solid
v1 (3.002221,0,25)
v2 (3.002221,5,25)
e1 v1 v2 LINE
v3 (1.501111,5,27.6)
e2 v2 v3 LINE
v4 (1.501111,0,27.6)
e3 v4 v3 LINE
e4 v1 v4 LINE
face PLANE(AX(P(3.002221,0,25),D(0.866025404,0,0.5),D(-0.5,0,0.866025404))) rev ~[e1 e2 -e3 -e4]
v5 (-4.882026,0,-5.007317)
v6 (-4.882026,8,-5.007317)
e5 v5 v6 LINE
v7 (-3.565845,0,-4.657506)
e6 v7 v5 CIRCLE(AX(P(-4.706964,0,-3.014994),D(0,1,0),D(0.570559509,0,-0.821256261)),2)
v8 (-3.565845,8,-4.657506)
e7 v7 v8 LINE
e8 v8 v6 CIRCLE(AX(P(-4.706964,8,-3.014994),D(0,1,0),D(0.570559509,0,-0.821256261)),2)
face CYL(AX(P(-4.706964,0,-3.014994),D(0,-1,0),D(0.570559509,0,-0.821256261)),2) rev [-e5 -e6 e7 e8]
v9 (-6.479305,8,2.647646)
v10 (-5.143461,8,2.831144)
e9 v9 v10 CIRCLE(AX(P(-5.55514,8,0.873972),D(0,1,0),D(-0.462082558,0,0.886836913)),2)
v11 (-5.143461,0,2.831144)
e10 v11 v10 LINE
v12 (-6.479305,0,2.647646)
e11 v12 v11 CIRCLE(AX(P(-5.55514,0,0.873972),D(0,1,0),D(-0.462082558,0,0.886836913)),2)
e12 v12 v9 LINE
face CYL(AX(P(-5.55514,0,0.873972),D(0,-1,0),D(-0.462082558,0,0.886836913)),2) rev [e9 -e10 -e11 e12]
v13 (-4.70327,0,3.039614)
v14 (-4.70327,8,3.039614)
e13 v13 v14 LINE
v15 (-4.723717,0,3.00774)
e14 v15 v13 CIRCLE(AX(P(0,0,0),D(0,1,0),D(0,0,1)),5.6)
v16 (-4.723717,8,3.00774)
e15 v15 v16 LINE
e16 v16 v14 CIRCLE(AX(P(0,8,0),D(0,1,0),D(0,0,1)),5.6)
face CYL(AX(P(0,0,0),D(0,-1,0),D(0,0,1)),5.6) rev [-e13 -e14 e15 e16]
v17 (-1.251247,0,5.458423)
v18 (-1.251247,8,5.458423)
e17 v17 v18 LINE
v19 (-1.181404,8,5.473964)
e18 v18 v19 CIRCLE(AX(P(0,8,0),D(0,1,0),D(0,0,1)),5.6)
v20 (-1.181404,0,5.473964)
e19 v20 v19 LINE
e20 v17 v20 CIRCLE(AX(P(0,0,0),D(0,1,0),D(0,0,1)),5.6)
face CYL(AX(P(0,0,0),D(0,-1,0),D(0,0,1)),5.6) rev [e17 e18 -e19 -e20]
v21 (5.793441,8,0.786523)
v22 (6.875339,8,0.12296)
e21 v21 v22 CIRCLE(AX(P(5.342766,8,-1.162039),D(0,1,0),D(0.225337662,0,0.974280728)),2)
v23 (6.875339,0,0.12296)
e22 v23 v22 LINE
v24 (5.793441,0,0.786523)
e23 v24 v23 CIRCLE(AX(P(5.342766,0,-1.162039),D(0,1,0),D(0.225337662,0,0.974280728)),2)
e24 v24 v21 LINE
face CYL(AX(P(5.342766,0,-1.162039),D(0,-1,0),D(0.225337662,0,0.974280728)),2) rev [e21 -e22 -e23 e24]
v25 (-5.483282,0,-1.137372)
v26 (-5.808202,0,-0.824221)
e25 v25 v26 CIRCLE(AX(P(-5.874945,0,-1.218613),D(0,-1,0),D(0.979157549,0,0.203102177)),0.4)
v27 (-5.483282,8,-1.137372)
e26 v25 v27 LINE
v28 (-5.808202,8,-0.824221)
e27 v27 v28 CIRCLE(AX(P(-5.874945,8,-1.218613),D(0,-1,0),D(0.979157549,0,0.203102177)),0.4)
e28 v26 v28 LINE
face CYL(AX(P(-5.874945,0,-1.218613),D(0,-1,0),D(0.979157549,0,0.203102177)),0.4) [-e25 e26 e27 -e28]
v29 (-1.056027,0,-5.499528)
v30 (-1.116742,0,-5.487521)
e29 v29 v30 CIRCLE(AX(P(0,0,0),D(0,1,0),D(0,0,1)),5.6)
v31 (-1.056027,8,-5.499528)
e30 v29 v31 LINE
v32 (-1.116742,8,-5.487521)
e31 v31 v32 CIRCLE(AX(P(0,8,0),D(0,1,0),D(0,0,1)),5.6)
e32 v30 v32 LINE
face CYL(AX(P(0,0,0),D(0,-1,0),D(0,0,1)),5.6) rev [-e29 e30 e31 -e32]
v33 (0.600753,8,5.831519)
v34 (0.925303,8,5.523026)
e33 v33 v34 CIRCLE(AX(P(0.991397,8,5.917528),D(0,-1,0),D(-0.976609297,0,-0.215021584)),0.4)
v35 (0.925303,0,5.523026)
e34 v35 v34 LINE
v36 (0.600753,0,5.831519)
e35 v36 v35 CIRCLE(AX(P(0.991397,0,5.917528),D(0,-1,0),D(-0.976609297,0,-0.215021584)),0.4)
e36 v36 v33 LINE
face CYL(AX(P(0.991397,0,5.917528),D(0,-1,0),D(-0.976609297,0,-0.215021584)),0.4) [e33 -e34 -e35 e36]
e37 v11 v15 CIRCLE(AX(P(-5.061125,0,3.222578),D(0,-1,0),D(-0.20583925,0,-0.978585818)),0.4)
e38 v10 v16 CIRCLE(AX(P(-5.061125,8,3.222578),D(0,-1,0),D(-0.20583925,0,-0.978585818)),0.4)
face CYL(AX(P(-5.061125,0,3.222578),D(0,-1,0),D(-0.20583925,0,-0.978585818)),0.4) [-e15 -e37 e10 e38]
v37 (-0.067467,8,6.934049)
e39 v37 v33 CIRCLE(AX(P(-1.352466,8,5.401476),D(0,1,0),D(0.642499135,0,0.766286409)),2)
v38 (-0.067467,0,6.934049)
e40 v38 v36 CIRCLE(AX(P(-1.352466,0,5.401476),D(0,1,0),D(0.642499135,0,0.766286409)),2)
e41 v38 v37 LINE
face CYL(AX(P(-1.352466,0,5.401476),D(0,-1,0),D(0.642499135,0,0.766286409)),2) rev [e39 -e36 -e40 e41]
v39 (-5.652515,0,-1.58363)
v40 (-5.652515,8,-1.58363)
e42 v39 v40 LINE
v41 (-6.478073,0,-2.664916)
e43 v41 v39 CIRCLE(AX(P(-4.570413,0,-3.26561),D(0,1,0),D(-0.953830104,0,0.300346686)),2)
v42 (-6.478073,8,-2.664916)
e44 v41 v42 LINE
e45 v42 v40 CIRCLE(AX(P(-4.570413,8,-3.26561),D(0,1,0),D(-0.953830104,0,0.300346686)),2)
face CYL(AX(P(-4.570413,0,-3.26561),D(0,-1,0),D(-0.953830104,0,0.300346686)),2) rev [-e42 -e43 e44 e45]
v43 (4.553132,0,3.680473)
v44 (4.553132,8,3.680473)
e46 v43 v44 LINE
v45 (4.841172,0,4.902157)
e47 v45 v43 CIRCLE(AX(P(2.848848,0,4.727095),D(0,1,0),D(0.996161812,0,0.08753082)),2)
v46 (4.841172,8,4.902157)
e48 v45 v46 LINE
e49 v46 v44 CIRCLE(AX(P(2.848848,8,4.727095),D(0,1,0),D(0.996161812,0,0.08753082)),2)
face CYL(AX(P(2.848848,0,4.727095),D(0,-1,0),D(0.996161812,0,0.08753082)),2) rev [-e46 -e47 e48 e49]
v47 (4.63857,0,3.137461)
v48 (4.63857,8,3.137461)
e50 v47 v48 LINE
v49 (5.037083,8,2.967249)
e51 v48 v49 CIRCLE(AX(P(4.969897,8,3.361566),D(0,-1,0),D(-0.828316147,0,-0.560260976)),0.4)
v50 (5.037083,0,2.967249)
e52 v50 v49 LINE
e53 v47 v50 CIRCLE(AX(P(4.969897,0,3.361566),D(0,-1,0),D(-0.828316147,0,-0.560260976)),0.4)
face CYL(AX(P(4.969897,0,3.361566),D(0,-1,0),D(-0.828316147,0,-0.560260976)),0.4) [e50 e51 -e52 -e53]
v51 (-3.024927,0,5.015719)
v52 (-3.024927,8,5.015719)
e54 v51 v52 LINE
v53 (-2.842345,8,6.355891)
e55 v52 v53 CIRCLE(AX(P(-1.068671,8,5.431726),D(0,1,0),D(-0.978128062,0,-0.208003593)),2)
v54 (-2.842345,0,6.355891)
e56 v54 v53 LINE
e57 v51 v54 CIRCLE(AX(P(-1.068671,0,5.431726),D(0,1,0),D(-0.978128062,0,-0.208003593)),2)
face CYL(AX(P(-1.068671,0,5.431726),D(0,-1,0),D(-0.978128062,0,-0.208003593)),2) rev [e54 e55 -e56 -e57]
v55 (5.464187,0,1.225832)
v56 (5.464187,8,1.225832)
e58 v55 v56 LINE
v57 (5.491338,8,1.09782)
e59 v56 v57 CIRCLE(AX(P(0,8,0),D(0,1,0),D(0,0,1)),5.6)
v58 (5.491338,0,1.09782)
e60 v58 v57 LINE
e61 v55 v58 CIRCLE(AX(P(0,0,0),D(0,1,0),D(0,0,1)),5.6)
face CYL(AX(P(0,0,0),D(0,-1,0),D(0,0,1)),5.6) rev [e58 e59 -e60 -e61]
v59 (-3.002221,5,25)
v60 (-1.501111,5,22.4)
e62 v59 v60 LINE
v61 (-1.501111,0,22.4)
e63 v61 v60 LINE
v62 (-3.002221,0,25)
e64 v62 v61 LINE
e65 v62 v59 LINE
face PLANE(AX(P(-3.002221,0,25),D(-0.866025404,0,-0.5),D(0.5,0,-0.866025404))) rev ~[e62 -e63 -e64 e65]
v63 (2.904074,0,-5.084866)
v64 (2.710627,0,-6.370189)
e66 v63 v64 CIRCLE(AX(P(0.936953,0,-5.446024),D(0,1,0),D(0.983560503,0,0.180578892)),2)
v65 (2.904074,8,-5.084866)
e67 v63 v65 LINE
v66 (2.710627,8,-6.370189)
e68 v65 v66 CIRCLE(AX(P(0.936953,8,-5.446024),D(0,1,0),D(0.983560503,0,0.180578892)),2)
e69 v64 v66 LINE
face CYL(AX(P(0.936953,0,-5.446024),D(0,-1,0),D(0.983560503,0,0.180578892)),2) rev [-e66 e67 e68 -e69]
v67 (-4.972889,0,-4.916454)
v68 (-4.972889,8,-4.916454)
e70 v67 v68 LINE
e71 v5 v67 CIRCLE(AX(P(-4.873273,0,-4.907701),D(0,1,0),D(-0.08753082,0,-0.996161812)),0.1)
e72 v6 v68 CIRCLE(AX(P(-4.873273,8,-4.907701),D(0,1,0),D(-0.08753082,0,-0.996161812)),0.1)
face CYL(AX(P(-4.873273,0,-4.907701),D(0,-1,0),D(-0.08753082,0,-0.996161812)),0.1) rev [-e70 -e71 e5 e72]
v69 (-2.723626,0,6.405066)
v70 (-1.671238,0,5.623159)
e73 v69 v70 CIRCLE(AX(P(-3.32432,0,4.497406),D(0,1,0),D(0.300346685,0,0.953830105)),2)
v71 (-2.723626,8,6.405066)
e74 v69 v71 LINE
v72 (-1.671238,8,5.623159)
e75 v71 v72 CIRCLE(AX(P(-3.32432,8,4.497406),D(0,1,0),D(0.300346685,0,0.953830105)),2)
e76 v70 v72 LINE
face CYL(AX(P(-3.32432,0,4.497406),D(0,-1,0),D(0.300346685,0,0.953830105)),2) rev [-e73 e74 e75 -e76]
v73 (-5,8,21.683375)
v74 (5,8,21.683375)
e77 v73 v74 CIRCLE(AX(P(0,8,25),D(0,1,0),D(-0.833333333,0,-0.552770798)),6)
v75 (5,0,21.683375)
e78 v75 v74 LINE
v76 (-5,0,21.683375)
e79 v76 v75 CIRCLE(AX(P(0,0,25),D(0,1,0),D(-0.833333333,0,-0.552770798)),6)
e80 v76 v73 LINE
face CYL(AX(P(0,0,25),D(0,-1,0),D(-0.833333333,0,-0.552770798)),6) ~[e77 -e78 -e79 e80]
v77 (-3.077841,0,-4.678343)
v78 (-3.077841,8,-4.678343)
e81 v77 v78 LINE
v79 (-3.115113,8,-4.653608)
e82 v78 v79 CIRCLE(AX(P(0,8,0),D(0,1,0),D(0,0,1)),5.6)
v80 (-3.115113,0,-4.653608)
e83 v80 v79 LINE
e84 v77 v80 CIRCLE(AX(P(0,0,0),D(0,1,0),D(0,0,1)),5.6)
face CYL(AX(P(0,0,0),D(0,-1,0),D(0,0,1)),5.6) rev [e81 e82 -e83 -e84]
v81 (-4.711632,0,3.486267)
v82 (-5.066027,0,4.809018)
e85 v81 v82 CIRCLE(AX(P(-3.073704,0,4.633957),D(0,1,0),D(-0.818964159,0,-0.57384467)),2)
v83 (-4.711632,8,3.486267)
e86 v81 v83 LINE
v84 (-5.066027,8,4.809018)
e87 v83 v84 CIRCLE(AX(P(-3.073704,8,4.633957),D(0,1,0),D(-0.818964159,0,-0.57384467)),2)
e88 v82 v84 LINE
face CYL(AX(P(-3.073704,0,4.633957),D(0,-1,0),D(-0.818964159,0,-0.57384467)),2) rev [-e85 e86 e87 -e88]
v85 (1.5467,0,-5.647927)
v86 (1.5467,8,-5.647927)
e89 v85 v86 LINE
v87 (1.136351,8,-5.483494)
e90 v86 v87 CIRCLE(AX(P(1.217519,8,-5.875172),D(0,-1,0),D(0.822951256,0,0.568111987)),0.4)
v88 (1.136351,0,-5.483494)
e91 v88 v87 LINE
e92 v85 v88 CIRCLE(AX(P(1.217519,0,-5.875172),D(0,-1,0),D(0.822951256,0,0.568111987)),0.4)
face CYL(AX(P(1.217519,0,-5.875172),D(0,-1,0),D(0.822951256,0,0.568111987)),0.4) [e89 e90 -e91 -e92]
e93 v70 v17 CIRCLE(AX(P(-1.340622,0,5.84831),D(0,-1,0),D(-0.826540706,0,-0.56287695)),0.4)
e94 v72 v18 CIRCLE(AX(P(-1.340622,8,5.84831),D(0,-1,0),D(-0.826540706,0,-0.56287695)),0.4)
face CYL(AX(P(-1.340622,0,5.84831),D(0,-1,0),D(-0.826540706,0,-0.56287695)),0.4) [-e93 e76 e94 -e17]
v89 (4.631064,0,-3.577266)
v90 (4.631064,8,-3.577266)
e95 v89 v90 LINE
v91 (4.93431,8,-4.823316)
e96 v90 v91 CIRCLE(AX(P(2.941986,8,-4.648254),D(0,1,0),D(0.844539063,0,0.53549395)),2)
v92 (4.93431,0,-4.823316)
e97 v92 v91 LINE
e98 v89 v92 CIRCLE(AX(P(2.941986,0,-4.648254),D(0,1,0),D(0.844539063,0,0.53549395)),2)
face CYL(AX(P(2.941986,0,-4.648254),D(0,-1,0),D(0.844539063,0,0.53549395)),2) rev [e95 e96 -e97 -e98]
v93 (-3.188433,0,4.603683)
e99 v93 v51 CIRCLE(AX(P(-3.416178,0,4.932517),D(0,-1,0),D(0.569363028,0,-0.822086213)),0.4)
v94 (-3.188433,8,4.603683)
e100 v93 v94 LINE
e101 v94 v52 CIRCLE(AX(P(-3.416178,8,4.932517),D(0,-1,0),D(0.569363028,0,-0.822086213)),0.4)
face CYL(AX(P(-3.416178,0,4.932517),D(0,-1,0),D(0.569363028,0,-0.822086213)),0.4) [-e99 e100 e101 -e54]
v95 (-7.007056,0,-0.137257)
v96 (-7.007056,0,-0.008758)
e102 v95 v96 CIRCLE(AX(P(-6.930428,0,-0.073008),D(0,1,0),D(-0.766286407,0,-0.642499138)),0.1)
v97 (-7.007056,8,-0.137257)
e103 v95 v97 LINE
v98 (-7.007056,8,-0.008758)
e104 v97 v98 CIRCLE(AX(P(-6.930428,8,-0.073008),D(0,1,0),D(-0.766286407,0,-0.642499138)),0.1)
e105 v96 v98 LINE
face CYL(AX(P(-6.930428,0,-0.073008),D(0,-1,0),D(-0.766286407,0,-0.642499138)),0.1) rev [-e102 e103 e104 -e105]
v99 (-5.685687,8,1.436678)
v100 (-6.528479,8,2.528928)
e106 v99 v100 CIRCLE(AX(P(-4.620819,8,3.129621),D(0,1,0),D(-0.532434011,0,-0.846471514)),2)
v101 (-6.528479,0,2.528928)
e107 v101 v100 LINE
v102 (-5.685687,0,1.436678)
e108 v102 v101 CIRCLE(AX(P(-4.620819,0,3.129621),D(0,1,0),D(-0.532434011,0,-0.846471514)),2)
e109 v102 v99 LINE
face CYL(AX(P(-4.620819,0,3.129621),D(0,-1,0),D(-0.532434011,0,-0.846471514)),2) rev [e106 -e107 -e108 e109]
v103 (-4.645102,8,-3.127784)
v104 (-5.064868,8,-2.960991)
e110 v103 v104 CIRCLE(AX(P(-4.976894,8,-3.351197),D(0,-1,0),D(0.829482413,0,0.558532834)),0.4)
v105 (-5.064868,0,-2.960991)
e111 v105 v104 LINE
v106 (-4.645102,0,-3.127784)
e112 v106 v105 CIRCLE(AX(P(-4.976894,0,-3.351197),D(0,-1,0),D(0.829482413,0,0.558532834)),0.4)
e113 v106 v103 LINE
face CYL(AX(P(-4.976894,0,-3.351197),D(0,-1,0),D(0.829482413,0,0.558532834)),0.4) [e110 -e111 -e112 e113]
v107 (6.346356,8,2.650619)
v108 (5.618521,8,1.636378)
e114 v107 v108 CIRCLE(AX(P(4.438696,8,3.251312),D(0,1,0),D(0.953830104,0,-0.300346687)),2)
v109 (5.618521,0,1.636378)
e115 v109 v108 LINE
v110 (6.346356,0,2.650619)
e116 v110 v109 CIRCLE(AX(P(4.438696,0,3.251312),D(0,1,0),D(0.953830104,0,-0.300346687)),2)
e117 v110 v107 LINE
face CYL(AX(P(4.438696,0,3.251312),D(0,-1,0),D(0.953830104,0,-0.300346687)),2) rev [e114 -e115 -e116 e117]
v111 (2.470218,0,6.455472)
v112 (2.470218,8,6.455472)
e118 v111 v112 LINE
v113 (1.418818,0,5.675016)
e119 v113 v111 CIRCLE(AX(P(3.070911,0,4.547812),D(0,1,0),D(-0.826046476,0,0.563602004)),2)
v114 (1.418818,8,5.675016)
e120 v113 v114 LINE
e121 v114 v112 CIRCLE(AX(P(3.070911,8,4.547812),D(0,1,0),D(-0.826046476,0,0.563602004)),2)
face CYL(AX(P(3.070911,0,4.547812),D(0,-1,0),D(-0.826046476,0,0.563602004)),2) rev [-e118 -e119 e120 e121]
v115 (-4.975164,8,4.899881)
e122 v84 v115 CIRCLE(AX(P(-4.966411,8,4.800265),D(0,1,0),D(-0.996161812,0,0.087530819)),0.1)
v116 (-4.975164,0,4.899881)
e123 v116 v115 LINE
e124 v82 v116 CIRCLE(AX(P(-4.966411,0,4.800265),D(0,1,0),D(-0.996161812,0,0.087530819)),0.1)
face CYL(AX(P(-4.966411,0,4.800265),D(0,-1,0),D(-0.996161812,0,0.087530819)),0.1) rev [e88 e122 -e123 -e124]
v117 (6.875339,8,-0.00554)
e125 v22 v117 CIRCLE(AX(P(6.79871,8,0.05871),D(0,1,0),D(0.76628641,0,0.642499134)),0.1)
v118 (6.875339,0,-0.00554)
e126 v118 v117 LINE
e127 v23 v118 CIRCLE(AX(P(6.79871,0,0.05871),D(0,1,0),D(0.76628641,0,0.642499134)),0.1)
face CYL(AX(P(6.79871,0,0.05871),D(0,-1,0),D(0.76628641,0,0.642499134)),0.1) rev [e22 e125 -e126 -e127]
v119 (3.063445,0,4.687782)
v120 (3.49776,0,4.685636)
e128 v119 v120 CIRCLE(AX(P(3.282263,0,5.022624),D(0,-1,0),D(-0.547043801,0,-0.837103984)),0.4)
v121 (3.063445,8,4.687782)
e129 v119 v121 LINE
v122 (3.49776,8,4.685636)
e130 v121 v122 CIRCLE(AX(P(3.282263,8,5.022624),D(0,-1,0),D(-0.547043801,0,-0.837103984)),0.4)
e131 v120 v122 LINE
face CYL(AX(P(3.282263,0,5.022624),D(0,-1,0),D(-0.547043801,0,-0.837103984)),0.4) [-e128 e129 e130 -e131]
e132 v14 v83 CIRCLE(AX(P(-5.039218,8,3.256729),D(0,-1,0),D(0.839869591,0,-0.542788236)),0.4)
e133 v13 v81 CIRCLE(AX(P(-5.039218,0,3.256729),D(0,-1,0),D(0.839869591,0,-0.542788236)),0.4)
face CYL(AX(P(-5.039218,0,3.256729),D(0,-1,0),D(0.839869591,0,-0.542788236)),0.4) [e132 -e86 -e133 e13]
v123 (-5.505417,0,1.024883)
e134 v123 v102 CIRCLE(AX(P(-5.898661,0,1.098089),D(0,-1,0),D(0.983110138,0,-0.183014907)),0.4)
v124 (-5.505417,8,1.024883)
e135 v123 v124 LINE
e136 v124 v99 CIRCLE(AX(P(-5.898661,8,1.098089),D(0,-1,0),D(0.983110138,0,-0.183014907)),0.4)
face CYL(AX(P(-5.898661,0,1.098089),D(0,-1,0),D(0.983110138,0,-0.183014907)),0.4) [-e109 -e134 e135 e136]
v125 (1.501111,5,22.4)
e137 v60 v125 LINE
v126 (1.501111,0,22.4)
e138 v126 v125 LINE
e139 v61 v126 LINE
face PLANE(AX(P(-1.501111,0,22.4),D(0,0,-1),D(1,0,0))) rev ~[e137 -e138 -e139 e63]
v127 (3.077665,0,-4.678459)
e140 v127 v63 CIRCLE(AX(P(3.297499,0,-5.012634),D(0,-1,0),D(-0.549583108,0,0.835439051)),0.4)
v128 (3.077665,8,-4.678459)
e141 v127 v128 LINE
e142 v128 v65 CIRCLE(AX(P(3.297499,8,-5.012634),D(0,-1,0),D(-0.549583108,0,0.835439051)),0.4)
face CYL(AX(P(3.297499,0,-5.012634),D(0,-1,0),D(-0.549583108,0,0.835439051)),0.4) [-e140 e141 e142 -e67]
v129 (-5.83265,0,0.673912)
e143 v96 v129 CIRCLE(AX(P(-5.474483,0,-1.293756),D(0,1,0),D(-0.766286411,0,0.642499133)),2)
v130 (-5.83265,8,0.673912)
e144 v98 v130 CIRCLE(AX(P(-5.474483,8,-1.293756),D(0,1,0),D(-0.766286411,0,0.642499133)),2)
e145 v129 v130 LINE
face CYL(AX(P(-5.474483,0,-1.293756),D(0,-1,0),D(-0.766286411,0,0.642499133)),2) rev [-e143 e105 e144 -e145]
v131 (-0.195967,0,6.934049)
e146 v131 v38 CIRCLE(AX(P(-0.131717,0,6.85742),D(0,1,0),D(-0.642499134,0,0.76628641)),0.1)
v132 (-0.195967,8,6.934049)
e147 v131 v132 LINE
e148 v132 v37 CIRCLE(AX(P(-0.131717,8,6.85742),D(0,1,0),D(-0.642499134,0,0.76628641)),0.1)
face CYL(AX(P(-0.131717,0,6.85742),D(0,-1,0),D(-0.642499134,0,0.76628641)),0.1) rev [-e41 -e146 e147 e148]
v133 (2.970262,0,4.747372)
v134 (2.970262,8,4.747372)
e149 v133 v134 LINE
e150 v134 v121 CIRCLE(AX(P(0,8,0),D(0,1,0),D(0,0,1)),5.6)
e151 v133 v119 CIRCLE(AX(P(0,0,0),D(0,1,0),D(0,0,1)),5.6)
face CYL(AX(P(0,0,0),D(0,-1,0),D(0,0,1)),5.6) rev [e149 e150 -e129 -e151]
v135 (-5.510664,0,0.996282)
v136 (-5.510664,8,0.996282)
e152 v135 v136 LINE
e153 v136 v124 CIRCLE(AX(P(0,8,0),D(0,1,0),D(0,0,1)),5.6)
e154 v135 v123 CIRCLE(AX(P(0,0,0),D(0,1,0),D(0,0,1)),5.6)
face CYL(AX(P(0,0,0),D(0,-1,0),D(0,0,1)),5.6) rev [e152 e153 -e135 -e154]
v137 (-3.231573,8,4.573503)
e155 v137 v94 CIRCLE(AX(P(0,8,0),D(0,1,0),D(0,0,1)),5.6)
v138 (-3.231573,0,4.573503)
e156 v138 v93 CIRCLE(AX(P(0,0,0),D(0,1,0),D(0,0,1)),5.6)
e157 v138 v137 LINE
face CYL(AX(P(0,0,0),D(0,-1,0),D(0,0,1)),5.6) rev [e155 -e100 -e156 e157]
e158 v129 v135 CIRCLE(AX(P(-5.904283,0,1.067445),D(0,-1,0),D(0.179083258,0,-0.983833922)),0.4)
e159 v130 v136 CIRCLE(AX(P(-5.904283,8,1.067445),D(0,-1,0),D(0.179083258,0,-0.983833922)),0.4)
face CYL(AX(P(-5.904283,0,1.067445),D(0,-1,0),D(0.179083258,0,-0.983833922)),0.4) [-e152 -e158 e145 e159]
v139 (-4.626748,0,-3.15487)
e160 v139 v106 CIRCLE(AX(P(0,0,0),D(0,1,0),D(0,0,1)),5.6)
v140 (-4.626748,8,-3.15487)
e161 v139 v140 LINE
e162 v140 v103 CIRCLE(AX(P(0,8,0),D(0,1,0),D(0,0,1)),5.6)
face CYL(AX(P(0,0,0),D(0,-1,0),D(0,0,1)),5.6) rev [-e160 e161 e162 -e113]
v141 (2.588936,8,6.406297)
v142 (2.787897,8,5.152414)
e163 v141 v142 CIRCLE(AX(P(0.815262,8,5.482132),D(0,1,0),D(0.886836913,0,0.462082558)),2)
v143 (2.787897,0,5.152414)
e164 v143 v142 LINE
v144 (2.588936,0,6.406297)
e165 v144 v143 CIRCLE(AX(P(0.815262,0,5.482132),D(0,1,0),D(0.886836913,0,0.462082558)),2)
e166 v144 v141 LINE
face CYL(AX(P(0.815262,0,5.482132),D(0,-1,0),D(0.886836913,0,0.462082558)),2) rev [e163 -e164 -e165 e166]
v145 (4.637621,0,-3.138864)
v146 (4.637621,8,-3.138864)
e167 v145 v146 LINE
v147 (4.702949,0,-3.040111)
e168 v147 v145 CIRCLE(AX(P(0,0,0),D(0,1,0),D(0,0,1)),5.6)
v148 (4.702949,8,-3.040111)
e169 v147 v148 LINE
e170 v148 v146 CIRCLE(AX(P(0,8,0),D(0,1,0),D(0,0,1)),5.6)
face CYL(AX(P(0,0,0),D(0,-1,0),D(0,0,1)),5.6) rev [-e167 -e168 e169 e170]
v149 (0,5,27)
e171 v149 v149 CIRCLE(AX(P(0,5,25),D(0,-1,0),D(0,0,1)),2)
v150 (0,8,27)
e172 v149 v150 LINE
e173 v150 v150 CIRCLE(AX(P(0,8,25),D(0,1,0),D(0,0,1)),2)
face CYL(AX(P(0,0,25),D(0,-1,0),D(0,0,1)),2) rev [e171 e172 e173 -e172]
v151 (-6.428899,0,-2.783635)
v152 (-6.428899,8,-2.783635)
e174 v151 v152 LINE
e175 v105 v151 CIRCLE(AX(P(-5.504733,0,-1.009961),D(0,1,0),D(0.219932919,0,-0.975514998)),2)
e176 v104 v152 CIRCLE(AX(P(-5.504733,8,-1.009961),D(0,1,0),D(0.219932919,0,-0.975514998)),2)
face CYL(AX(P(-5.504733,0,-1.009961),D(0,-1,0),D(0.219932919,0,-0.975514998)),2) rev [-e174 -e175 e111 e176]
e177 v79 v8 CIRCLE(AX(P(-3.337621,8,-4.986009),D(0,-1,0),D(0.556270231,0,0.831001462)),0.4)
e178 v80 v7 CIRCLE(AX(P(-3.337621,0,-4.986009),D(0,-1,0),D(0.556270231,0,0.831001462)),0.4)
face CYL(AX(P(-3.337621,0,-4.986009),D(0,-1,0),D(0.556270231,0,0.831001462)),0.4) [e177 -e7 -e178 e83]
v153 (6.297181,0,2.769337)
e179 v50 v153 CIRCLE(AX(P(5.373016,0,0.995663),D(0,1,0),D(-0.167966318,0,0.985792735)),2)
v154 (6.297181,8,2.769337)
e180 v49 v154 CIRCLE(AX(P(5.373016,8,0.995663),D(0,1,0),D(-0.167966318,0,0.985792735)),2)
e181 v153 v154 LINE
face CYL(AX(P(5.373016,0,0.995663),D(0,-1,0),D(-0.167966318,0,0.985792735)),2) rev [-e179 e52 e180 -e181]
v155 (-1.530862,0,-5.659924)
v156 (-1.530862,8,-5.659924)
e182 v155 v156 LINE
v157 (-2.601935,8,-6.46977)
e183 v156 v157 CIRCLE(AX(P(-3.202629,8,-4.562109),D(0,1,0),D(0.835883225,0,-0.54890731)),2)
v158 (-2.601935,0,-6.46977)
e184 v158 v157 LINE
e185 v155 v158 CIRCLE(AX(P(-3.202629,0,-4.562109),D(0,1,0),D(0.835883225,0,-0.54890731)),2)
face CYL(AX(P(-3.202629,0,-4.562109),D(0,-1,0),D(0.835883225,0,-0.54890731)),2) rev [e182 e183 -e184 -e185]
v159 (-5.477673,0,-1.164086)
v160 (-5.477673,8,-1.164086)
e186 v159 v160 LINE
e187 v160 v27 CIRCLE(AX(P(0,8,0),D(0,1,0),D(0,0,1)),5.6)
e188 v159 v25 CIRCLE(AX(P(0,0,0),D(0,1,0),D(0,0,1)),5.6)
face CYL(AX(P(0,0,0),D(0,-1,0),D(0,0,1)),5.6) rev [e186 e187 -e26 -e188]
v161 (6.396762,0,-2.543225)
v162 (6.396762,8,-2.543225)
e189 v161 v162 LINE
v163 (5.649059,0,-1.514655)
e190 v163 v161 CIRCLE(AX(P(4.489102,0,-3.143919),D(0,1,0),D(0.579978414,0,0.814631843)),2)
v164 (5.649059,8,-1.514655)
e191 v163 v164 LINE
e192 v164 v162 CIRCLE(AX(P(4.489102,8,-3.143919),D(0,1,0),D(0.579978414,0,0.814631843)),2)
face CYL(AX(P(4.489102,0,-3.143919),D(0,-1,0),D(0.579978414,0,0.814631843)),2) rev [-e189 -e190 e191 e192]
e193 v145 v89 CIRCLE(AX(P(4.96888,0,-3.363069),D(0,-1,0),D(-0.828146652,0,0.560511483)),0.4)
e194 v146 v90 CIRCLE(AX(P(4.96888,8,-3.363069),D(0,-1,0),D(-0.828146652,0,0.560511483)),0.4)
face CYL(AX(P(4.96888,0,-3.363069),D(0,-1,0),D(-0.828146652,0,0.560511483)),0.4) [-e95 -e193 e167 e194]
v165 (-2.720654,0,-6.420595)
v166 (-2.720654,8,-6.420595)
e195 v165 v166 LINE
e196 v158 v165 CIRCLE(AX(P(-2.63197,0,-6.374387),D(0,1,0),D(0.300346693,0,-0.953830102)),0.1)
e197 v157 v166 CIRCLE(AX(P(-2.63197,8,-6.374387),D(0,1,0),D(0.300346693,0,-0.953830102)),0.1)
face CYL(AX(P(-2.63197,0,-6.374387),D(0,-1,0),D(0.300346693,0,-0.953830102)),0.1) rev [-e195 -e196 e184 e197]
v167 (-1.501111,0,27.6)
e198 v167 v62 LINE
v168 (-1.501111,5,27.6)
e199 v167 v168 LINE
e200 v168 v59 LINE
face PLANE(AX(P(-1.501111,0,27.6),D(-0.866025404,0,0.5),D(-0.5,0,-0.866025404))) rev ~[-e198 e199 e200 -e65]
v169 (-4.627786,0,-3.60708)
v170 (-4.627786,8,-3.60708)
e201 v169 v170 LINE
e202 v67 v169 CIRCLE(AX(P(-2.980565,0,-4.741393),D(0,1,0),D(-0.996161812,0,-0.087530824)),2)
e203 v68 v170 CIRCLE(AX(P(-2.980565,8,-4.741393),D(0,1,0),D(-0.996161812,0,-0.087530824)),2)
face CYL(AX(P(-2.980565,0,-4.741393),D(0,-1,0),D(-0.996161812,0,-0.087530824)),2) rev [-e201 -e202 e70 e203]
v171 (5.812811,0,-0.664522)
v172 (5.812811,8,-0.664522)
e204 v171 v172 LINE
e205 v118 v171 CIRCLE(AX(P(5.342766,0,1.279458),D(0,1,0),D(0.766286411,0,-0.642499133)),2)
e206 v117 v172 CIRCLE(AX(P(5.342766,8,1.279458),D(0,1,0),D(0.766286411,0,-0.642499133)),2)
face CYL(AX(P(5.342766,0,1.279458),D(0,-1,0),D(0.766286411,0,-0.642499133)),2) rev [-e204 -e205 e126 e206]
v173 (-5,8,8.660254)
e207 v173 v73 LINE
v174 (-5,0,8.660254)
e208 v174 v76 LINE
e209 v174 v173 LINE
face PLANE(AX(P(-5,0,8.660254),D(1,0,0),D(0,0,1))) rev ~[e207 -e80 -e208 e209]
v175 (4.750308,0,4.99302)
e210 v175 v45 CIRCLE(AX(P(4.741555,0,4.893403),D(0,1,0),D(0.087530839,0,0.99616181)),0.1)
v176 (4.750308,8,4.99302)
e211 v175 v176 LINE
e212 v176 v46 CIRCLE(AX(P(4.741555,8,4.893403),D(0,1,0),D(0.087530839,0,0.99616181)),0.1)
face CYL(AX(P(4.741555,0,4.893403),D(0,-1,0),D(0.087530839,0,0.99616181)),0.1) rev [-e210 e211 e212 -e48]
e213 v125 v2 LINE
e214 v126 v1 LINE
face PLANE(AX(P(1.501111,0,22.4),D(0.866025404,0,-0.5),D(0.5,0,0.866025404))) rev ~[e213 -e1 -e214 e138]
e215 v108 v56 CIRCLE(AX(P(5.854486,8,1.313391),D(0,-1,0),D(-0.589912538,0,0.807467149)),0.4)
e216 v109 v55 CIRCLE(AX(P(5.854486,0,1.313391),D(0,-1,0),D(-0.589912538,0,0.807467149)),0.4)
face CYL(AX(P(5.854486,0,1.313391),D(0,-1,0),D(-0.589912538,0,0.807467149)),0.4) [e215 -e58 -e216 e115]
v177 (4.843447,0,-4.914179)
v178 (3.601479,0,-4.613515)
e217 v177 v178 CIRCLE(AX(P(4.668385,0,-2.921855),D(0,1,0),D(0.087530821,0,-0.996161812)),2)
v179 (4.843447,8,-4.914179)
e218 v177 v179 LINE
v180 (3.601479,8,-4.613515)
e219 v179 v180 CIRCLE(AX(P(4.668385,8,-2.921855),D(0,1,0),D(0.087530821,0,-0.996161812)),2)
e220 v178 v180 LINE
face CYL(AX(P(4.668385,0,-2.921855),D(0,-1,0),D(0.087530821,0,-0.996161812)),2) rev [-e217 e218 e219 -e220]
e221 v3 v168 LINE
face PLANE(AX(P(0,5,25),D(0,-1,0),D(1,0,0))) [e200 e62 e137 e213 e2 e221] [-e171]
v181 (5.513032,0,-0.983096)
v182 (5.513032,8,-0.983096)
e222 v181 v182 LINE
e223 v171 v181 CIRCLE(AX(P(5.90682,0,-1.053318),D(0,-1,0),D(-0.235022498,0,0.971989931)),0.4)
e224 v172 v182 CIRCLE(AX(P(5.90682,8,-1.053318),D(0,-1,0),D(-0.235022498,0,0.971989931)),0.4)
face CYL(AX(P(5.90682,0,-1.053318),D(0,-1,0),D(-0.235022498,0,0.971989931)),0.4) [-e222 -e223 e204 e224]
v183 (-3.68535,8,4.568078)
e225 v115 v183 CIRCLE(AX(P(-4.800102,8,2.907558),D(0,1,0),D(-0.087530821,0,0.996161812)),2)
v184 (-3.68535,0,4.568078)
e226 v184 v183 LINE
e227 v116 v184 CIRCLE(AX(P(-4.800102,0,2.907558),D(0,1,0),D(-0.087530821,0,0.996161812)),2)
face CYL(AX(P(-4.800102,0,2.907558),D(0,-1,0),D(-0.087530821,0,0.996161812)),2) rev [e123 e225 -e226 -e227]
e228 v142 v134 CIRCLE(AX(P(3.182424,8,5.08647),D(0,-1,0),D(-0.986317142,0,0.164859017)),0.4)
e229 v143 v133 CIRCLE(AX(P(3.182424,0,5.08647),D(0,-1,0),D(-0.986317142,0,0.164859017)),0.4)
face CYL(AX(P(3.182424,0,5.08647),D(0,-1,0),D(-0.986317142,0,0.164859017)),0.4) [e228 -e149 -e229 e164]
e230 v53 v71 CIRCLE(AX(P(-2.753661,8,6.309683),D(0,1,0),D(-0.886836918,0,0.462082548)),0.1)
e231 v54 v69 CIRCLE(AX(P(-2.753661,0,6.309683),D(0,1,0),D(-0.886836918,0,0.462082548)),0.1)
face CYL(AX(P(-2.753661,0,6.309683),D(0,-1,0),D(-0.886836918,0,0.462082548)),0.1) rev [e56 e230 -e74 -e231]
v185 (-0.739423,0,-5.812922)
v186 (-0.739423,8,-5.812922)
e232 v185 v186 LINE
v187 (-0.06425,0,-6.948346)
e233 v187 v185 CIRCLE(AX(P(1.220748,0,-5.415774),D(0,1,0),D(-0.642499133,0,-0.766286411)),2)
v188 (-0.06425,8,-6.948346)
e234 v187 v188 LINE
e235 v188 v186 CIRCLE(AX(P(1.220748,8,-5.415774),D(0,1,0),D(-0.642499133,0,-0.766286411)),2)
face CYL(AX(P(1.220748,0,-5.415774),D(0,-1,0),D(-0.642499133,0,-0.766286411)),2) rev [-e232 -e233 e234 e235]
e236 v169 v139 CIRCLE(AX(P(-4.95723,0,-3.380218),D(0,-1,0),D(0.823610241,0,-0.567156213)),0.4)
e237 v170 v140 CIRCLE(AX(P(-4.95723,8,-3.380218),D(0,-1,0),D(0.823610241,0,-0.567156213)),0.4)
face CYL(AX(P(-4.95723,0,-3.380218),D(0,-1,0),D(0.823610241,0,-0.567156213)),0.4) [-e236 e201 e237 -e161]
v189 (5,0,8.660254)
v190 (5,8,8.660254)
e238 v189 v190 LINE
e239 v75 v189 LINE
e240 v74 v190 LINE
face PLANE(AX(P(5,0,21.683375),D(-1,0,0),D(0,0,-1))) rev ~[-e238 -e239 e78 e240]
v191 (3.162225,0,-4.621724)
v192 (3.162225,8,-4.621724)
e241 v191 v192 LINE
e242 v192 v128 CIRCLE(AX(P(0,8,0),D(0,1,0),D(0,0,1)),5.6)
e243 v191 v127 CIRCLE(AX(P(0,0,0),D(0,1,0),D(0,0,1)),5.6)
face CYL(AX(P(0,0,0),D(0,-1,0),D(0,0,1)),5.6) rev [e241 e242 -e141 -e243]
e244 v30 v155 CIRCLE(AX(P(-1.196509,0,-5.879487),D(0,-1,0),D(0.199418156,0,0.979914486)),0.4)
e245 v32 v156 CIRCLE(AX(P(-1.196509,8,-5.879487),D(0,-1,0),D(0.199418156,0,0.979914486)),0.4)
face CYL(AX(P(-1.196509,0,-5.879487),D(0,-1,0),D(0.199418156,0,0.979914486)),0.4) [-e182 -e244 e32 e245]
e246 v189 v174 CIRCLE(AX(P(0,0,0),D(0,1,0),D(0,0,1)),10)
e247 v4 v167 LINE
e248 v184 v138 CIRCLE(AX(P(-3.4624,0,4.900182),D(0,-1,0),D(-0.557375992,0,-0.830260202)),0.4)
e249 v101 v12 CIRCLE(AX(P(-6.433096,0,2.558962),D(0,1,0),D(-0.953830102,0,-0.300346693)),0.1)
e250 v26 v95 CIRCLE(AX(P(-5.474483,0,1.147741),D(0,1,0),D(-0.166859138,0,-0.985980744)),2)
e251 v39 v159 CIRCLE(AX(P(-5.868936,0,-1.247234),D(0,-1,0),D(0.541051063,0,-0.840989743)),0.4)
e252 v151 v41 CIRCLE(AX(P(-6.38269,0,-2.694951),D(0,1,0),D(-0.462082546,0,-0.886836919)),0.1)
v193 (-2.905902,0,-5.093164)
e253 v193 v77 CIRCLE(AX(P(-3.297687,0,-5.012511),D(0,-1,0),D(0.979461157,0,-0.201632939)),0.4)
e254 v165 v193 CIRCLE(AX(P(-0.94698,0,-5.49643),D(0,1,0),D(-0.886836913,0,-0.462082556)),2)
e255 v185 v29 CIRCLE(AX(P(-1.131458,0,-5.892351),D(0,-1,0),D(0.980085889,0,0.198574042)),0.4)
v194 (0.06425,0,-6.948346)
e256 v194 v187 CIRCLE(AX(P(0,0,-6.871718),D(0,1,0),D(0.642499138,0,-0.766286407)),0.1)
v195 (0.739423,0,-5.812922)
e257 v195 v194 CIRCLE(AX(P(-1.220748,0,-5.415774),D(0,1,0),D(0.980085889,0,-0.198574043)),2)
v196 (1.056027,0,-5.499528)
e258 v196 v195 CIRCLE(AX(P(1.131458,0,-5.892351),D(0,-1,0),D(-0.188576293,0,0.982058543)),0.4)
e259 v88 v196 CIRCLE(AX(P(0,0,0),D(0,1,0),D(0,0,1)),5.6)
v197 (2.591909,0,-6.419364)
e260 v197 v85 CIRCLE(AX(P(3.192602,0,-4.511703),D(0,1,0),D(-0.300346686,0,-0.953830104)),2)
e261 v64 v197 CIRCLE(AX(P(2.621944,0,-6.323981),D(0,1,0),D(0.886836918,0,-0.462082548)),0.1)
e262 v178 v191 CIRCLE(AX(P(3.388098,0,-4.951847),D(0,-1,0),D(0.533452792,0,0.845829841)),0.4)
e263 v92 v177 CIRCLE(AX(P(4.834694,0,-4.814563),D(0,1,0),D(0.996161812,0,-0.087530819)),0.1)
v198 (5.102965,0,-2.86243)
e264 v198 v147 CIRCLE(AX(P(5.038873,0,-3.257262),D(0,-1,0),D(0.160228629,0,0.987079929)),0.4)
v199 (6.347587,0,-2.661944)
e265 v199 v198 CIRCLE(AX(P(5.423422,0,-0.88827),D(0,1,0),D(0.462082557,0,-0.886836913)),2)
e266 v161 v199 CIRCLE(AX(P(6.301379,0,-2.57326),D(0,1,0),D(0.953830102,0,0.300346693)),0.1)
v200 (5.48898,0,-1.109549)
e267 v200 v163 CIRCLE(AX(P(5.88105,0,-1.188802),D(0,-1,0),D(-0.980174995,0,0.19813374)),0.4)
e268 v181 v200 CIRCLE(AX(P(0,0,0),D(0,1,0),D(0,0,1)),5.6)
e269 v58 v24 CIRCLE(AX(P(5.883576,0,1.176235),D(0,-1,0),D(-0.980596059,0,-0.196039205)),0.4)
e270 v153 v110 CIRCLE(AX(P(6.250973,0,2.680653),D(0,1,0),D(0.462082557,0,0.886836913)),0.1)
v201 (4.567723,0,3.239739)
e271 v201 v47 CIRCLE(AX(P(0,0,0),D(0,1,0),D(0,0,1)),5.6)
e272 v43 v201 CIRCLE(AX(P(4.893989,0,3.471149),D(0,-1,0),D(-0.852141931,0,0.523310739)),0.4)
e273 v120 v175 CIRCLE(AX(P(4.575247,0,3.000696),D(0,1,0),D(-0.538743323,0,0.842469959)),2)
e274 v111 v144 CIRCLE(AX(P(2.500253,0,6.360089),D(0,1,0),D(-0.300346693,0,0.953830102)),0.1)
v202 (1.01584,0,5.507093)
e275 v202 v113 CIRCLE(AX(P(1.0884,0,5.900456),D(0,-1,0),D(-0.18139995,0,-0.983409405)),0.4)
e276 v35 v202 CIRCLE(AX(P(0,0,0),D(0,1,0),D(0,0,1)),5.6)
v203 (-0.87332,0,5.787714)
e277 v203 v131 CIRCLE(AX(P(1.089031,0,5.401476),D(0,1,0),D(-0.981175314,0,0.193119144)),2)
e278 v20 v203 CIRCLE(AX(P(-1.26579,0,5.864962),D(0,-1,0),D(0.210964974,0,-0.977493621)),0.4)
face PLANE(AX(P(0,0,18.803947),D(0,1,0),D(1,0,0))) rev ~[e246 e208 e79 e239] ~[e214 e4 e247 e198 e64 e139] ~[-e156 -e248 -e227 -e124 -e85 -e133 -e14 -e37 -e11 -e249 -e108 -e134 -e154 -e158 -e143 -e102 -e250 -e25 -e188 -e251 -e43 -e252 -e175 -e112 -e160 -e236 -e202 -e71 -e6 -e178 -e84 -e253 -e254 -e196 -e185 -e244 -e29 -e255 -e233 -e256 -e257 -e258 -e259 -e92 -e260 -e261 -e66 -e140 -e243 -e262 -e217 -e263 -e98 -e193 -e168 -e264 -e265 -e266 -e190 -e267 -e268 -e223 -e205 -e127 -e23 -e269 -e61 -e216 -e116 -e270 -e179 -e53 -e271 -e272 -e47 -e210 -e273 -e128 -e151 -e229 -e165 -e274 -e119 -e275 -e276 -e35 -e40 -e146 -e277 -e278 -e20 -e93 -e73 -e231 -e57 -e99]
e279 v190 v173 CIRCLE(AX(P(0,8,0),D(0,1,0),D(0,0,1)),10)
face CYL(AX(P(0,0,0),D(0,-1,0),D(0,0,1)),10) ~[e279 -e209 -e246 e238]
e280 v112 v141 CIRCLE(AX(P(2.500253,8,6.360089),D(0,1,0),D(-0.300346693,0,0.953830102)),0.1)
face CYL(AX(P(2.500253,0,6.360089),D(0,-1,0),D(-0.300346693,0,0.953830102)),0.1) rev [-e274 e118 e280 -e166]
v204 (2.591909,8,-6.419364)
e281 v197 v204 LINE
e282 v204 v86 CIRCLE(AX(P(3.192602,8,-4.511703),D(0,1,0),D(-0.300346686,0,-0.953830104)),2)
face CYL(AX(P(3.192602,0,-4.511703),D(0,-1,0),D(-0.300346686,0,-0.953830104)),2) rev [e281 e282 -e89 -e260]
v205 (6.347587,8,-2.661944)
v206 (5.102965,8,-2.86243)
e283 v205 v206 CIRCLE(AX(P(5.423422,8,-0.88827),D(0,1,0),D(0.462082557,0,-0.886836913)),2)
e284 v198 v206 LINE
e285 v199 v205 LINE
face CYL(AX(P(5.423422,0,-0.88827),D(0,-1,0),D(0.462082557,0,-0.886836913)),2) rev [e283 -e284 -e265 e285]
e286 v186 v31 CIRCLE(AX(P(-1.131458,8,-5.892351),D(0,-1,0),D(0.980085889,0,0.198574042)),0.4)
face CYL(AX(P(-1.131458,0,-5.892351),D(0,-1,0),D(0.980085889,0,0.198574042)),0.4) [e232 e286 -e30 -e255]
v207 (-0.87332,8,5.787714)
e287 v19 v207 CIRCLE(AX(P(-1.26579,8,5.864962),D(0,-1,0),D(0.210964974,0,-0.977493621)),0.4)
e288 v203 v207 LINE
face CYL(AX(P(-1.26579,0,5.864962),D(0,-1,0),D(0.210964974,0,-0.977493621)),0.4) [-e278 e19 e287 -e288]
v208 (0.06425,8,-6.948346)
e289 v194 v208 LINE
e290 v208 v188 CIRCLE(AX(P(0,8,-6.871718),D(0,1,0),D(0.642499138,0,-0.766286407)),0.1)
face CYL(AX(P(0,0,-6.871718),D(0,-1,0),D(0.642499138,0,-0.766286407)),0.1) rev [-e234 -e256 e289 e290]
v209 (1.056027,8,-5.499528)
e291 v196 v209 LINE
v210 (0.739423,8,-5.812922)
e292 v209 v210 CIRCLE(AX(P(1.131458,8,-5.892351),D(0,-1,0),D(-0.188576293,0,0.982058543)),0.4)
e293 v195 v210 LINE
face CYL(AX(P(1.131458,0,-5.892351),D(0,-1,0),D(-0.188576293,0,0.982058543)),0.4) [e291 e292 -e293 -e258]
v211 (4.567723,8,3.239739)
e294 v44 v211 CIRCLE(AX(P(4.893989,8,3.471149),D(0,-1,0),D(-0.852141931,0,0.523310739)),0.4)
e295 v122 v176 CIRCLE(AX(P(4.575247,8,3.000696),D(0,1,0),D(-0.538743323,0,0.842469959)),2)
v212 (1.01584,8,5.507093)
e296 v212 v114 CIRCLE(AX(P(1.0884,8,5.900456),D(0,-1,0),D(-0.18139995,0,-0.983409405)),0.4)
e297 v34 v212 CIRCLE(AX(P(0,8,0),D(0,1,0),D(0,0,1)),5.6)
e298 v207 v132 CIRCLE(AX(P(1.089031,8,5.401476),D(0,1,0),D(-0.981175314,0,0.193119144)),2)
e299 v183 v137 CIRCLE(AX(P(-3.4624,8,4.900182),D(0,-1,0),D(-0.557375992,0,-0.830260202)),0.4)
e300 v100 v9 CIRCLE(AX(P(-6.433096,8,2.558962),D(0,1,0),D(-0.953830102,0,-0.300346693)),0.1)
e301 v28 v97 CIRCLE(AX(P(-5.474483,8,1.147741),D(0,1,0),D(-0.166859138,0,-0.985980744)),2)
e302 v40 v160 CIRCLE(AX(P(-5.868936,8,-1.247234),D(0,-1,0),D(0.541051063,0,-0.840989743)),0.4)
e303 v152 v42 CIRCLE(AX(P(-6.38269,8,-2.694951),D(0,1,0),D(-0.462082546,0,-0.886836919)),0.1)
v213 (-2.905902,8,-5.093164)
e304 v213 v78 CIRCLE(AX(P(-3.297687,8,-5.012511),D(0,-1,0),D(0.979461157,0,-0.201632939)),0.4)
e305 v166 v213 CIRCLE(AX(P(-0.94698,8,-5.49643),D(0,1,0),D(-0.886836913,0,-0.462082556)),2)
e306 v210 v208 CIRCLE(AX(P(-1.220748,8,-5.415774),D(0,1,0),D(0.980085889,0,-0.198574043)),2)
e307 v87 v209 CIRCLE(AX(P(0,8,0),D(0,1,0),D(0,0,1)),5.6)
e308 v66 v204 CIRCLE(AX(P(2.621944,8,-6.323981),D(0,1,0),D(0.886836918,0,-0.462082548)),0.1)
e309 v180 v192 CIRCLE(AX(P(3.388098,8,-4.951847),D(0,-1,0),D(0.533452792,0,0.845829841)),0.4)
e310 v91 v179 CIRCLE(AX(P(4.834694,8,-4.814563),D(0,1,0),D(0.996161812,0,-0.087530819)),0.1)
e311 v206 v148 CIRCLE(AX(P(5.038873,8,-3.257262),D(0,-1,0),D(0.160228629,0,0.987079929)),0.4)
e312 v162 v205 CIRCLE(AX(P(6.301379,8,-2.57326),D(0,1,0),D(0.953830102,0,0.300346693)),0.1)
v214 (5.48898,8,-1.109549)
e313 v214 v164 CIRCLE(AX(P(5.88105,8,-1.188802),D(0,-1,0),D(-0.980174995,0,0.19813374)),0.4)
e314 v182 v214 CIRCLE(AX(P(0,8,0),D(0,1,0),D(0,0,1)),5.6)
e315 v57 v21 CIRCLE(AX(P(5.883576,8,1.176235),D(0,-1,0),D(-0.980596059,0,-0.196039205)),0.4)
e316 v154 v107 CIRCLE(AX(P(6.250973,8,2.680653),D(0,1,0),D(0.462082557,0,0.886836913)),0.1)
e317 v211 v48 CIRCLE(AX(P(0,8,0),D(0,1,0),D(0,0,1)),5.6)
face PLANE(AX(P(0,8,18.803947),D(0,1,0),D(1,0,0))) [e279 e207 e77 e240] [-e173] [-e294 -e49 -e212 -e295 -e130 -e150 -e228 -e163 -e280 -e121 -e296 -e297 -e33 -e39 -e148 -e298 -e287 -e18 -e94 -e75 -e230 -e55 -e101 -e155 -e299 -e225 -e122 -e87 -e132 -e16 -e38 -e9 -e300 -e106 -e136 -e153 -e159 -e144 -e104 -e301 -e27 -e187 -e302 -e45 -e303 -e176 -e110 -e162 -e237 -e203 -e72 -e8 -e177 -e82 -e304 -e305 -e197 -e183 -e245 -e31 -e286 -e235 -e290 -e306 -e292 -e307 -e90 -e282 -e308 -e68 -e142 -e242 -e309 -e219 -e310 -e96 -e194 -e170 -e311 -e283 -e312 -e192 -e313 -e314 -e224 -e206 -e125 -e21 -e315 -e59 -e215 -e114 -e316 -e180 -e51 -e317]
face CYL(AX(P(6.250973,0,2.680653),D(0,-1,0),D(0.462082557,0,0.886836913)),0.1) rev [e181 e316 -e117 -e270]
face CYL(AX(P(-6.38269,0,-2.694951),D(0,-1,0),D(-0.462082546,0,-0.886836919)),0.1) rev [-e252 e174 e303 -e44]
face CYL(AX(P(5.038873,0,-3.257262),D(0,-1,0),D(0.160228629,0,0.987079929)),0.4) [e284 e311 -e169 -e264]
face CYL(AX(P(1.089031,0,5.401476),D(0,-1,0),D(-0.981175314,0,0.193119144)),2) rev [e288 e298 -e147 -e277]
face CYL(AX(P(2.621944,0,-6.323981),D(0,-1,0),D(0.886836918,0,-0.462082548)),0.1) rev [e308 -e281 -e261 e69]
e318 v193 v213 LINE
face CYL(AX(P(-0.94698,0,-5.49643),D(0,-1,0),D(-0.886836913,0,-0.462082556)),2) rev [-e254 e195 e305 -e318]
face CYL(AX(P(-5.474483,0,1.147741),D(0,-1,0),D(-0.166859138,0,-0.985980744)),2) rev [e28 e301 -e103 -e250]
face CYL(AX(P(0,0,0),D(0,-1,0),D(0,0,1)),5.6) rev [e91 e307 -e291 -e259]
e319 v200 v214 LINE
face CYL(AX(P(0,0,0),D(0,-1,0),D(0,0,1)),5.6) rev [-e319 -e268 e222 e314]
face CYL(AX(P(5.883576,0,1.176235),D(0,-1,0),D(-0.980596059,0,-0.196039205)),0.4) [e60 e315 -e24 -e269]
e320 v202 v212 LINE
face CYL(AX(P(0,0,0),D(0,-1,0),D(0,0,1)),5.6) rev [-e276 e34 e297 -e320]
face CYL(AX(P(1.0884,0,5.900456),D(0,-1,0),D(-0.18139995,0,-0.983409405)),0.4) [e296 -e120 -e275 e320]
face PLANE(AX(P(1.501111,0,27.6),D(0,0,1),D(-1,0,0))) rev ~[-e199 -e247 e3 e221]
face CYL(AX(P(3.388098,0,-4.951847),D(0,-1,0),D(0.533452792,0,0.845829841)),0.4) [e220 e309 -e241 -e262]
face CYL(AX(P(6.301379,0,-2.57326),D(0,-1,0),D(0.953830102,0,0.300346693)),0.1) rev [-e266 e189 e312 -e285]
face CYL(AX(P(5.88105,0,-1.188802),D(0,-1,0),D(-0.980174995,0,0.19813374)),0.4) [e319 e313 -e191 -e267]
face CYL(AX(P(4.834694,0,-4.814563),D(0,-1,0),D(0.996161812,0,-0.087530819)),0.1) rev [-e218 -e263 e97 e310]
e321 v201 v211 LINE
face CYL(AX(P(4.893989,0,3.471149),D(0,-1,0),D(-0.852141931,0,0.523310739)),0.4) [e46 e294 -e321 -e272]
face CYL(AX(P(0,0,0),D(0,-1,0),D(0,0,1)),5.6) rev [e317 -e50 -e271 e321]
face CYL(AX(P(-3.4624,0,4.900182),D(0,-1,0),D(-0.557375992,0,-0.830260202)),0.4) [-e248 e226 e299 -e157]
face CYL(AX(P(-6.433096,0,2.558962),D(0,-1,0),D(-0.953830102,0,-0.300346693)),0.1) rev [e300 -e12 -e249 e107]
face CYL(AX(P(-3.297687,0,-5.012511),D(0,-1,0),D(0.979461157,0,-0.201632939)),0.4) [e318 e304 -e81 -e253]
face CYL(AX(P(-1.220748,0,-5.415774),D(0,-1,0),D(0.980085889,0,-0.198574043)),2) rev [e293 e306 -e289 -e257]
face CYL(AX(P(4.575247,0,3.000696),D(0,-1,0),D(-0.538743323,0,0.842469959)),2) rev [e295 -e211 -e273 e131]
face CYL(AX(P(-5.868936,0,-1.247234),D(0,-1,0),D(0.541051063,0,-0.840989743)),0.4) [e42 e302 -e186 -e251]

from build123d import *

# Parameters (mm, degrees)
SKETCH1_R           = 10
SKETCH1_R_2         = 5.6
BOSS_EXTRUDE1_DEPTH = 8
CUT_EXTRUDE1_START  = -8
CUT_EXTRUDE1_DEPTH  = 8
BOSS_EXTRUDE2_START = -8
SKETCH3_R           = 2
BOSS_EXTRUDE2_DEPTH = 8
CUT_EXTRUDE2_DEPTH  = 5


with BuildPart() as part:
    # Sketch1 → Boss-Extrude1 (new body)
    with BuildSketch(Plane(origin=(0, 0, 0), x_dir=(1, 0, 0), z_dir=(0, 1, 0))):
        with Locations(Location((0, 0, 0), (0, 0, 270))):
            Circle(SKETCH1_R)
        with Locations(Location((0, 0, 0), (0, 0, 270))):
            Circle(SKETCH1_R_2, mode=Mode.SUBTRACT)
    extrude(amount=BOSS_EXTRUDE1_DEPTH)

    # Sketch2 → Cut-Extrude1 (cut)
    with BuildSketch(Plane(origin=(0, 8, 0), x_dir=(1, 0, 0), z_dir=(0, 1, 0)).offset(CUT_EXTRUDE1_START)):
        with BuildLine():
            ThreePointArc((0.064249913, 6.948346368), (0, 6.971717727), (-0.064249913, 6.948346368))
            ThreePointArc((-0.064249913, 6.948346368), (-0.498286109, 6.437987083), (-0.739423422, 5.812921636))
            ThreePointArc((-0.739423422, 5.812921636), (-0.850059891, 5.608071058), (-1.056027259, 5.499527837))
            ThreePointArc((-1.056027259, 5.499527837), (0, 5.6), (1.056027259, 5.499527837))
            ThreePointArc((1.056027259, 5.499527837), (0.850059891, 5.608071058), (0.739423422, 5.812921636))
            ThreePointArc((0.739423422, 5.812921636), (0.498286109, 6.437987083), (0.064249913, 6.948346368))
        make_face()
        with BuildLine():
            ThreePointArc((-3.07784083, 4.678343278), (-2.13595945, 5.176647296), (-1.116741665, 5.487521121))
            ThreePointArc((-1.116741665, 5.487521121), (-1.350243109, 5.510209511), (-1.530862217, 5.659923992))
            ThreePointArc((-1.530862217, 5.659923992), (-1.996402784, 6.157420979), (-2.601935295, 6.469769583))
            ThreePointArc((-2.601935295, 6.469769583), (-2.670238307, 6.466774526), (-2.720653655, 6.420594828))
            ThreePointArc((-2.720653655, 6.420594828), (-2.927784399, 5.772859186), (-2.905902141, 5.093163831))
            ThreePointArc((-2.905902141, 5.093163831), (-2.928170827, 4.859350312), (-3.07784083, 4.678343278))
        make_face()
        with BuildLine():
            ThreePointArc((1.546699763, 5.647927275), (1.366304802, 5.503873184), (1.136351309, 5.483493932))
            ThreePointArc((1.136351309, 5.483493932), (2.145111804, 5.172861428), (3.077665403, 4.678458685))
            ThreePointArc((3.077665403, 4.678458685), (2.929649667, 4.855512924), (2.904074445, 5.084865862))
            ThreePointArc((2.904074445, 5.084865862), (2.914679464, 5.743680773), (2.710627264, 6.370188757))
            ThreePointArc((2.710627264, 6.370188757), (2.660211916, 6.416368455), (2.591908904, 6.419363512))
            ThreePointArc((2.591908904, 6.419363512), (2.004925243, 6.120871804), (1.546699763, 5.647927275))
        make_face()
        with BuildLine():
            ThreePointArc((-4.626747894, 3.154869874), (-3.942798212, 3.976725067), (-3.115113277, 4.653608199))
            ThreePointArc((-3.115113277, 4.653608199), (-3.341080574, 4.586023742), (-3.565845172, 4.65750628))
            ThreePointArc((-3.565845172, 4.65750628), (-4.193243775, 4.947890892), (-4.882025833, 5.007317379))
            ThreePointArc((-4.882025833, 5.007317379), (-4.943983429, 4.978411876), (-4.972888932, 4.916454281))
            ThreePointArc((-4.972888932, 4.916454281), (-4.914521213, 4.231672555), (-4.62778579, 3.607080208))
            ThreePointArc((-4.62778579, 3.607080208), (-4.55723094, 3.381135785), (-4.626747894, 3.154869874))
        make_face()
        with BuildLine():
            ThreePointArc((3.60147946, 4.613515157), (3.380624437, 4.551916923), (3.162225119, 4.621723953))
            ThreePointArc((3.162225119, 4.621723953), (3.969775698, 3.949795047), (4.637621263, 3.138864289))
            ThreePointArc((4.637621263, 3.138864289), (4.568924656, 3.357086949), (4.631064299, 3.577266461))
            ThreePointArc((4.631064299, 3.577266461), (4.885266795, 4.17532686), (4.934309795, 4.823316006))
            ThreePointArc((4.934309795, 4.823316006), (4.905404292, 4.885273602), (4.843446696, 4.914179105))
            ThreePointArc((4.843446696, 4.914179105), (4.197804444, 4.865705756), (3.60147946, 4.613515157))
        make_face()
        with BuildLine():
            ThreePointArc((-5.477673311, 1.164085519), (-5.155741489, 2.185939087), (-4.645101504, 3.127783883))
            ThreePointArc((-4.645101504, 3.127783883), (-4.829188719, 2.979467261), (-5.064867635, 2.960991018))
            ThreePointArc((-5.064867635, 2.960991018), (-5.762609895, 2.993266281), (-6.428898584, 2.783634848))
            ThreePointArc((-6.428898584, 2.783634848), (-6.475078282, 2.7332195), (-6.478073339, 2.664916489))
            ThreePointArc((-6.478073339, 2.664916489), (-6.160056055, 2.051923175), (-5.652515264, 1.58363038))
            ThreePointArc((-5.652515264, 1.58363038), (-5.499714793, 1.401104329), (-5.477673311, 1.164085519))
        make_face()
        with BuildLine():
            ThreePointArc((5.102964873, 2.86242986), (4.876497297, 2.891701995), (4.702948527, 3.040111043))
            ThreePointArc((4.702948527, 3.040111043), (5.186580684, 2.111724605), (5.488979978, 1.109548918))
            ThreePointArc((5.488979978, 1.109548918), (5.509040687, 1.335802715), (5.649058612, 1.51465515))
            ThreePointArc((5.649058612, 1.51465515), (6.106834087, 1.967933206), (6.396761999, 2.543225468))
            ThreePointArc((6.396761999, 2.543225468), (6.393766942, 2.61152848), (6.347587244, 2.661943828))
            ThreePointArc((6.347587244, 2.661943828), (5.741485734, 2.862816923), (5.102964873, 2.86242986))
        make_face()
        with BuildLine():
            ThreePointArc((-5.510664325, -0.996282441), (-5.599538908, 0.071861119), (-5.483282283, 1.137372148))
            ThreePointArc((-5.483282283, 1.137372148), (-5.597366262, 0.930602816), (-5.808201648, 0.824220718))
            ThreePointArc((-5.808201648, 0.824220718), (-6.468837551, 0.587557408), (-7.007056195, 0.137257497))
            ThreePointArc((-7.007056195, 0.137257497), (-7.030427554, 0.073007584), (-7.007056195, 0.008757671))
            ThreePointArc((-7.007056195, 0.008757671), (-6.479586979, -0.435338259), (-5.8326499, -0.673911904))
            ThreePointArc((-5.8326499, -0.673911904), (-5.621271562, -0.784771791), (-5.510664325, -0.996282441))
        make_face()
        with BuildLine():
            ThreePointArc((5.812810952, 0.664521681), (5.615514351, 0.779198979), (5.513031953, 0.983096477))
            ThreePointArc((5.513031953, 0.983096477), (5.599695706, -0.058378103), (5.49133793, -1.097819539))
            ThreePointArc((5.49133793, -1.097819539), (5.59652681, -0.897662861), (5.793441288, -0.786522929))
            ThreePointArc((5.793441288, -0.786522929), (6.388422373, -0.542837618), (6.875338784, -0.122959741))
            ThreePointArc((6.875338784, -0.122959741), (6.898710143, -0.058709827), (6.875338784, 0.005540086))
            ThreePointArc((6.875338784, 0.005540086), (6.396892952, 0.420193633), (5.812810952, 0.664521681))
        make_face()
        with BuildLine():
            ThreePointArc((-4.723716983, -3.00773966), (-5.209771972, -2.053844201), (-5.505416772, -1.024883487))
            ThreePointArc((-5.505416772, -1.024883487), (-5.532233953, -1.25849938), (-5.685687223, -1.436678055))
            ThreePointArc((-5.685687223, -1.436678055), (-6.204243765, -1.907832783), (-6.52847941, -2.528927711))
            ThreePointArc((-6.52847941, -2.528927711), (-6.525484353, -2.597230723), (-6.479304655, -2.647646071))
            ThreePointArc((-6.479304655, -2.647646071), (-5.827313187, -2.855366074), (-5.14346104, -2.83114388))
            ThreePointArc((-5.14346104, -2.83114388), (-4.906005926, -2.853880543), (-4.723716983, -3.00773966))
        make_face()
        with BuildLine():
            ThreePointArc((-3.231573409, -4.573503395), (-4.040870944, -3.877030051), (-4.703269727, -3.0396141))
            ThreePointArc((-4.703269727, -3.0396141), (-4.639287647, -3.264216822), (-4.711631901, -3.486267262))
            ThreePointArc((-4.711631901, -3.486267262), (-5.005567924, -4.11636587), (-5.066027207, -4.809018249))
            ThreePointArc((-5.066027207, -4.809018249), (-5.037121704, -4.870975845), (-4.975164108, -4.899881348))
            ThreePointArc((-4.975164108, -4.899881348), (-4.301827611, -4.844494009), (-3.685350478, -4.568078128))
            ThreePointArc((-3.685350478, -4.568078128), (-3.457618103, -4.500210794), (-3.231573409, -4.573503395))
        make_face()
        with BuildLine():
            ThreePointArc((5.618520803, -1.63637781), (5.480067966, -1.454143469), (5.464186765, -1.225831555))
            ThreePointArc((5.464186765, -1.225831555), (5.14101235, -2.220358534), (4.638570438, -3.13746144))
            ThreePointArc((4.638570438, -3.13746144), (4.812780485, -2.993714728), (5.037083425, -2.967248735))
            ThreePointArc((5.037083425, -2.967248735), (5.683333022, -2.971442449), (6.297181173, -2.769337092))
            ThreePointArc((6.297181173, -2.769337092), (6.343360871, -2.718921743), (6.346355928, -2.650618732))
            ThreePointArc((6.346355928, -2.650618732), (6.063599568, -2.085255724), (5.618520803, -1.63637781))
        make_face()
        with BuildLine():
            ThreePointArc((-1.251247201, -5.45842289), (-2.260605052, -5.123442671), (-3.188432984, -4.603682777))
            ThreePointArc((-3.188432984, -4.603682777), (-3.044381817, -4.784979292), (-3.024926972, -5.015718698))
            ThreePointArc((-3.024926972, -5.015718698), (-3.05036452, -5.701707725), (-2.842344676, -6.355891))
            ThreePointArc((-2.842344676, -6.355891), (-2.791929328, -6.402070698), (-2.723626316, -6.405065755))
            ThreePointArc((-2.723626316, -6.405065755), (-2.131541606, -6.102796604), (-1.671238282, -5.623159457))
            ThreePointArc((-1.671238282, -5.623159457), (-1.48668328, -5.475931261), (-1.251247201, -5.45842289))
        make_face()
        with BuildLine():
            ThreePointArc((4.553131765, -3.68047341), (4.494207557, -3.457914037), (4.567722636, -3.239739175))
            ThreePointArc((4.567722636, -3.239739175), (3.883669423, -4.034490279), (3.063445285, -4.68778231))
            ThreePointArc((3.063445285, -4.68778231), (3.280286024, -4.622628788), (3.497760134, -4.685635919))
            ThreePointArc((3.497760134, -4.685635919), (4.09857718, -4.943062107), (4.750308422, -4.993019623))
            ThreePointArc((4.750308422, -4.993019623), (4.812266018, -4.964114119), (4.841171521, -4.902156524))
            ThreePointArc((4.841171521, -4.902156524), (4.795474246, -4.268133163), (4.553131765, -3.68047341))
        make_face()
        with BuildLine():
            ThreePointArc((0.925303441, -5.52302576), (-0.130378711, -5.598482061), (-1.181403822, -5.473964286))
            ThreePointArc((-1.181403822, -5.473964286), (-0.980381907, -5.584707692), (-0.873319684, -5.787714078))
            ThreePointArc((-0.873319684, -5.787714078), (-0.632839966, -6.418904201), (-0.195967325, -6.934048611))
            ThreePointArc((-0.195967325, -6.934048611), (-0.131717411, -6.95741997), (-0.067467498, -6.934048611))
            ThreePointArc((-0.067467498, -6.934048611), (0.357915774, -6.438102524), (0.600752826, -5.831518965))
            ThreePointArc((0.600752826, -5.831518965), (0.715816891, -5.627603722), (0.925303441, -5.52302576))
        make_face()
        with BuildLine():
            ThreePointArc((2.787896701, -5.152413925), (2.8176875, -4.922252146), (2.970261988, -4.747372297))
            ThreePointArc((2.970261988, -4.747372297), (2.028927178, -5.219526272), (1.015839733, -5.507092666))
            ThreePointArc((1.015839733, -5.507092666), (1.242257752, -5.531230611), (1.418818304, -5.675015626))
            ThreePointArc((1.418818304, -5.675015626), (1.878837632, -6.153725835), (2.470217884, -6.455471826))
            ThreePointArc((2.470217884, -6.455471826), (2.538520896, -6.452476769), (2.588936244, -6.406297071))
            ThreePointArc((2.588936244, -6.406297071), (2.790550207, -5.795561613), (2.787896701, -5.152413925))
        make_face()
    extrude(amount=CUT_EXTRUDE1_DEPTH, mode=Mode.SUBTRACT)

    # Sketch3 → Boss-Extrude2 (add)
    with BuildSketch(Plane(origin=(0, 8, 0), x_dir=(1, 0, 0), z_dir=(0, 1, 0)).offset(BOSS_EXTRUDE2_START)):
        with BuildLine():
            Line((-5, -8.660254038), (-5, -21.68337521))
            ThreePointArc((-5, -21.68337521), (0, -31), (5, -21.68337521))
            Line((5, -21.68337521), (5, -8.660254038))
            ThreePointArc((5, -8.660254038), (0, -10), (-5, -8.660254038))
        make_face()
        with Locations(Location((0, -25, 0), (0, 0, 270))):
            Circle(SKETCH3_R, mode=Mode.SUBTRACT)
    extrude(amount=BOSS_EXTRUDE2_DEPTH)

    # Sketch4 → Cut-Extrude2 (cut)
    with BuildSketch(Plane.XZ):
        Polygon((1.5011107, 27.6), (-1.5011107, 27.6), (-3.0022214, 25), (-1.5011107, 22.4), (1.5011107, 22.4), (3.0022214, 25), align=None)
    extrude(amount=-CUT_EXTRUDE2_DEPTH, mode=Mode.SUBTRACT)


solid = part.part
